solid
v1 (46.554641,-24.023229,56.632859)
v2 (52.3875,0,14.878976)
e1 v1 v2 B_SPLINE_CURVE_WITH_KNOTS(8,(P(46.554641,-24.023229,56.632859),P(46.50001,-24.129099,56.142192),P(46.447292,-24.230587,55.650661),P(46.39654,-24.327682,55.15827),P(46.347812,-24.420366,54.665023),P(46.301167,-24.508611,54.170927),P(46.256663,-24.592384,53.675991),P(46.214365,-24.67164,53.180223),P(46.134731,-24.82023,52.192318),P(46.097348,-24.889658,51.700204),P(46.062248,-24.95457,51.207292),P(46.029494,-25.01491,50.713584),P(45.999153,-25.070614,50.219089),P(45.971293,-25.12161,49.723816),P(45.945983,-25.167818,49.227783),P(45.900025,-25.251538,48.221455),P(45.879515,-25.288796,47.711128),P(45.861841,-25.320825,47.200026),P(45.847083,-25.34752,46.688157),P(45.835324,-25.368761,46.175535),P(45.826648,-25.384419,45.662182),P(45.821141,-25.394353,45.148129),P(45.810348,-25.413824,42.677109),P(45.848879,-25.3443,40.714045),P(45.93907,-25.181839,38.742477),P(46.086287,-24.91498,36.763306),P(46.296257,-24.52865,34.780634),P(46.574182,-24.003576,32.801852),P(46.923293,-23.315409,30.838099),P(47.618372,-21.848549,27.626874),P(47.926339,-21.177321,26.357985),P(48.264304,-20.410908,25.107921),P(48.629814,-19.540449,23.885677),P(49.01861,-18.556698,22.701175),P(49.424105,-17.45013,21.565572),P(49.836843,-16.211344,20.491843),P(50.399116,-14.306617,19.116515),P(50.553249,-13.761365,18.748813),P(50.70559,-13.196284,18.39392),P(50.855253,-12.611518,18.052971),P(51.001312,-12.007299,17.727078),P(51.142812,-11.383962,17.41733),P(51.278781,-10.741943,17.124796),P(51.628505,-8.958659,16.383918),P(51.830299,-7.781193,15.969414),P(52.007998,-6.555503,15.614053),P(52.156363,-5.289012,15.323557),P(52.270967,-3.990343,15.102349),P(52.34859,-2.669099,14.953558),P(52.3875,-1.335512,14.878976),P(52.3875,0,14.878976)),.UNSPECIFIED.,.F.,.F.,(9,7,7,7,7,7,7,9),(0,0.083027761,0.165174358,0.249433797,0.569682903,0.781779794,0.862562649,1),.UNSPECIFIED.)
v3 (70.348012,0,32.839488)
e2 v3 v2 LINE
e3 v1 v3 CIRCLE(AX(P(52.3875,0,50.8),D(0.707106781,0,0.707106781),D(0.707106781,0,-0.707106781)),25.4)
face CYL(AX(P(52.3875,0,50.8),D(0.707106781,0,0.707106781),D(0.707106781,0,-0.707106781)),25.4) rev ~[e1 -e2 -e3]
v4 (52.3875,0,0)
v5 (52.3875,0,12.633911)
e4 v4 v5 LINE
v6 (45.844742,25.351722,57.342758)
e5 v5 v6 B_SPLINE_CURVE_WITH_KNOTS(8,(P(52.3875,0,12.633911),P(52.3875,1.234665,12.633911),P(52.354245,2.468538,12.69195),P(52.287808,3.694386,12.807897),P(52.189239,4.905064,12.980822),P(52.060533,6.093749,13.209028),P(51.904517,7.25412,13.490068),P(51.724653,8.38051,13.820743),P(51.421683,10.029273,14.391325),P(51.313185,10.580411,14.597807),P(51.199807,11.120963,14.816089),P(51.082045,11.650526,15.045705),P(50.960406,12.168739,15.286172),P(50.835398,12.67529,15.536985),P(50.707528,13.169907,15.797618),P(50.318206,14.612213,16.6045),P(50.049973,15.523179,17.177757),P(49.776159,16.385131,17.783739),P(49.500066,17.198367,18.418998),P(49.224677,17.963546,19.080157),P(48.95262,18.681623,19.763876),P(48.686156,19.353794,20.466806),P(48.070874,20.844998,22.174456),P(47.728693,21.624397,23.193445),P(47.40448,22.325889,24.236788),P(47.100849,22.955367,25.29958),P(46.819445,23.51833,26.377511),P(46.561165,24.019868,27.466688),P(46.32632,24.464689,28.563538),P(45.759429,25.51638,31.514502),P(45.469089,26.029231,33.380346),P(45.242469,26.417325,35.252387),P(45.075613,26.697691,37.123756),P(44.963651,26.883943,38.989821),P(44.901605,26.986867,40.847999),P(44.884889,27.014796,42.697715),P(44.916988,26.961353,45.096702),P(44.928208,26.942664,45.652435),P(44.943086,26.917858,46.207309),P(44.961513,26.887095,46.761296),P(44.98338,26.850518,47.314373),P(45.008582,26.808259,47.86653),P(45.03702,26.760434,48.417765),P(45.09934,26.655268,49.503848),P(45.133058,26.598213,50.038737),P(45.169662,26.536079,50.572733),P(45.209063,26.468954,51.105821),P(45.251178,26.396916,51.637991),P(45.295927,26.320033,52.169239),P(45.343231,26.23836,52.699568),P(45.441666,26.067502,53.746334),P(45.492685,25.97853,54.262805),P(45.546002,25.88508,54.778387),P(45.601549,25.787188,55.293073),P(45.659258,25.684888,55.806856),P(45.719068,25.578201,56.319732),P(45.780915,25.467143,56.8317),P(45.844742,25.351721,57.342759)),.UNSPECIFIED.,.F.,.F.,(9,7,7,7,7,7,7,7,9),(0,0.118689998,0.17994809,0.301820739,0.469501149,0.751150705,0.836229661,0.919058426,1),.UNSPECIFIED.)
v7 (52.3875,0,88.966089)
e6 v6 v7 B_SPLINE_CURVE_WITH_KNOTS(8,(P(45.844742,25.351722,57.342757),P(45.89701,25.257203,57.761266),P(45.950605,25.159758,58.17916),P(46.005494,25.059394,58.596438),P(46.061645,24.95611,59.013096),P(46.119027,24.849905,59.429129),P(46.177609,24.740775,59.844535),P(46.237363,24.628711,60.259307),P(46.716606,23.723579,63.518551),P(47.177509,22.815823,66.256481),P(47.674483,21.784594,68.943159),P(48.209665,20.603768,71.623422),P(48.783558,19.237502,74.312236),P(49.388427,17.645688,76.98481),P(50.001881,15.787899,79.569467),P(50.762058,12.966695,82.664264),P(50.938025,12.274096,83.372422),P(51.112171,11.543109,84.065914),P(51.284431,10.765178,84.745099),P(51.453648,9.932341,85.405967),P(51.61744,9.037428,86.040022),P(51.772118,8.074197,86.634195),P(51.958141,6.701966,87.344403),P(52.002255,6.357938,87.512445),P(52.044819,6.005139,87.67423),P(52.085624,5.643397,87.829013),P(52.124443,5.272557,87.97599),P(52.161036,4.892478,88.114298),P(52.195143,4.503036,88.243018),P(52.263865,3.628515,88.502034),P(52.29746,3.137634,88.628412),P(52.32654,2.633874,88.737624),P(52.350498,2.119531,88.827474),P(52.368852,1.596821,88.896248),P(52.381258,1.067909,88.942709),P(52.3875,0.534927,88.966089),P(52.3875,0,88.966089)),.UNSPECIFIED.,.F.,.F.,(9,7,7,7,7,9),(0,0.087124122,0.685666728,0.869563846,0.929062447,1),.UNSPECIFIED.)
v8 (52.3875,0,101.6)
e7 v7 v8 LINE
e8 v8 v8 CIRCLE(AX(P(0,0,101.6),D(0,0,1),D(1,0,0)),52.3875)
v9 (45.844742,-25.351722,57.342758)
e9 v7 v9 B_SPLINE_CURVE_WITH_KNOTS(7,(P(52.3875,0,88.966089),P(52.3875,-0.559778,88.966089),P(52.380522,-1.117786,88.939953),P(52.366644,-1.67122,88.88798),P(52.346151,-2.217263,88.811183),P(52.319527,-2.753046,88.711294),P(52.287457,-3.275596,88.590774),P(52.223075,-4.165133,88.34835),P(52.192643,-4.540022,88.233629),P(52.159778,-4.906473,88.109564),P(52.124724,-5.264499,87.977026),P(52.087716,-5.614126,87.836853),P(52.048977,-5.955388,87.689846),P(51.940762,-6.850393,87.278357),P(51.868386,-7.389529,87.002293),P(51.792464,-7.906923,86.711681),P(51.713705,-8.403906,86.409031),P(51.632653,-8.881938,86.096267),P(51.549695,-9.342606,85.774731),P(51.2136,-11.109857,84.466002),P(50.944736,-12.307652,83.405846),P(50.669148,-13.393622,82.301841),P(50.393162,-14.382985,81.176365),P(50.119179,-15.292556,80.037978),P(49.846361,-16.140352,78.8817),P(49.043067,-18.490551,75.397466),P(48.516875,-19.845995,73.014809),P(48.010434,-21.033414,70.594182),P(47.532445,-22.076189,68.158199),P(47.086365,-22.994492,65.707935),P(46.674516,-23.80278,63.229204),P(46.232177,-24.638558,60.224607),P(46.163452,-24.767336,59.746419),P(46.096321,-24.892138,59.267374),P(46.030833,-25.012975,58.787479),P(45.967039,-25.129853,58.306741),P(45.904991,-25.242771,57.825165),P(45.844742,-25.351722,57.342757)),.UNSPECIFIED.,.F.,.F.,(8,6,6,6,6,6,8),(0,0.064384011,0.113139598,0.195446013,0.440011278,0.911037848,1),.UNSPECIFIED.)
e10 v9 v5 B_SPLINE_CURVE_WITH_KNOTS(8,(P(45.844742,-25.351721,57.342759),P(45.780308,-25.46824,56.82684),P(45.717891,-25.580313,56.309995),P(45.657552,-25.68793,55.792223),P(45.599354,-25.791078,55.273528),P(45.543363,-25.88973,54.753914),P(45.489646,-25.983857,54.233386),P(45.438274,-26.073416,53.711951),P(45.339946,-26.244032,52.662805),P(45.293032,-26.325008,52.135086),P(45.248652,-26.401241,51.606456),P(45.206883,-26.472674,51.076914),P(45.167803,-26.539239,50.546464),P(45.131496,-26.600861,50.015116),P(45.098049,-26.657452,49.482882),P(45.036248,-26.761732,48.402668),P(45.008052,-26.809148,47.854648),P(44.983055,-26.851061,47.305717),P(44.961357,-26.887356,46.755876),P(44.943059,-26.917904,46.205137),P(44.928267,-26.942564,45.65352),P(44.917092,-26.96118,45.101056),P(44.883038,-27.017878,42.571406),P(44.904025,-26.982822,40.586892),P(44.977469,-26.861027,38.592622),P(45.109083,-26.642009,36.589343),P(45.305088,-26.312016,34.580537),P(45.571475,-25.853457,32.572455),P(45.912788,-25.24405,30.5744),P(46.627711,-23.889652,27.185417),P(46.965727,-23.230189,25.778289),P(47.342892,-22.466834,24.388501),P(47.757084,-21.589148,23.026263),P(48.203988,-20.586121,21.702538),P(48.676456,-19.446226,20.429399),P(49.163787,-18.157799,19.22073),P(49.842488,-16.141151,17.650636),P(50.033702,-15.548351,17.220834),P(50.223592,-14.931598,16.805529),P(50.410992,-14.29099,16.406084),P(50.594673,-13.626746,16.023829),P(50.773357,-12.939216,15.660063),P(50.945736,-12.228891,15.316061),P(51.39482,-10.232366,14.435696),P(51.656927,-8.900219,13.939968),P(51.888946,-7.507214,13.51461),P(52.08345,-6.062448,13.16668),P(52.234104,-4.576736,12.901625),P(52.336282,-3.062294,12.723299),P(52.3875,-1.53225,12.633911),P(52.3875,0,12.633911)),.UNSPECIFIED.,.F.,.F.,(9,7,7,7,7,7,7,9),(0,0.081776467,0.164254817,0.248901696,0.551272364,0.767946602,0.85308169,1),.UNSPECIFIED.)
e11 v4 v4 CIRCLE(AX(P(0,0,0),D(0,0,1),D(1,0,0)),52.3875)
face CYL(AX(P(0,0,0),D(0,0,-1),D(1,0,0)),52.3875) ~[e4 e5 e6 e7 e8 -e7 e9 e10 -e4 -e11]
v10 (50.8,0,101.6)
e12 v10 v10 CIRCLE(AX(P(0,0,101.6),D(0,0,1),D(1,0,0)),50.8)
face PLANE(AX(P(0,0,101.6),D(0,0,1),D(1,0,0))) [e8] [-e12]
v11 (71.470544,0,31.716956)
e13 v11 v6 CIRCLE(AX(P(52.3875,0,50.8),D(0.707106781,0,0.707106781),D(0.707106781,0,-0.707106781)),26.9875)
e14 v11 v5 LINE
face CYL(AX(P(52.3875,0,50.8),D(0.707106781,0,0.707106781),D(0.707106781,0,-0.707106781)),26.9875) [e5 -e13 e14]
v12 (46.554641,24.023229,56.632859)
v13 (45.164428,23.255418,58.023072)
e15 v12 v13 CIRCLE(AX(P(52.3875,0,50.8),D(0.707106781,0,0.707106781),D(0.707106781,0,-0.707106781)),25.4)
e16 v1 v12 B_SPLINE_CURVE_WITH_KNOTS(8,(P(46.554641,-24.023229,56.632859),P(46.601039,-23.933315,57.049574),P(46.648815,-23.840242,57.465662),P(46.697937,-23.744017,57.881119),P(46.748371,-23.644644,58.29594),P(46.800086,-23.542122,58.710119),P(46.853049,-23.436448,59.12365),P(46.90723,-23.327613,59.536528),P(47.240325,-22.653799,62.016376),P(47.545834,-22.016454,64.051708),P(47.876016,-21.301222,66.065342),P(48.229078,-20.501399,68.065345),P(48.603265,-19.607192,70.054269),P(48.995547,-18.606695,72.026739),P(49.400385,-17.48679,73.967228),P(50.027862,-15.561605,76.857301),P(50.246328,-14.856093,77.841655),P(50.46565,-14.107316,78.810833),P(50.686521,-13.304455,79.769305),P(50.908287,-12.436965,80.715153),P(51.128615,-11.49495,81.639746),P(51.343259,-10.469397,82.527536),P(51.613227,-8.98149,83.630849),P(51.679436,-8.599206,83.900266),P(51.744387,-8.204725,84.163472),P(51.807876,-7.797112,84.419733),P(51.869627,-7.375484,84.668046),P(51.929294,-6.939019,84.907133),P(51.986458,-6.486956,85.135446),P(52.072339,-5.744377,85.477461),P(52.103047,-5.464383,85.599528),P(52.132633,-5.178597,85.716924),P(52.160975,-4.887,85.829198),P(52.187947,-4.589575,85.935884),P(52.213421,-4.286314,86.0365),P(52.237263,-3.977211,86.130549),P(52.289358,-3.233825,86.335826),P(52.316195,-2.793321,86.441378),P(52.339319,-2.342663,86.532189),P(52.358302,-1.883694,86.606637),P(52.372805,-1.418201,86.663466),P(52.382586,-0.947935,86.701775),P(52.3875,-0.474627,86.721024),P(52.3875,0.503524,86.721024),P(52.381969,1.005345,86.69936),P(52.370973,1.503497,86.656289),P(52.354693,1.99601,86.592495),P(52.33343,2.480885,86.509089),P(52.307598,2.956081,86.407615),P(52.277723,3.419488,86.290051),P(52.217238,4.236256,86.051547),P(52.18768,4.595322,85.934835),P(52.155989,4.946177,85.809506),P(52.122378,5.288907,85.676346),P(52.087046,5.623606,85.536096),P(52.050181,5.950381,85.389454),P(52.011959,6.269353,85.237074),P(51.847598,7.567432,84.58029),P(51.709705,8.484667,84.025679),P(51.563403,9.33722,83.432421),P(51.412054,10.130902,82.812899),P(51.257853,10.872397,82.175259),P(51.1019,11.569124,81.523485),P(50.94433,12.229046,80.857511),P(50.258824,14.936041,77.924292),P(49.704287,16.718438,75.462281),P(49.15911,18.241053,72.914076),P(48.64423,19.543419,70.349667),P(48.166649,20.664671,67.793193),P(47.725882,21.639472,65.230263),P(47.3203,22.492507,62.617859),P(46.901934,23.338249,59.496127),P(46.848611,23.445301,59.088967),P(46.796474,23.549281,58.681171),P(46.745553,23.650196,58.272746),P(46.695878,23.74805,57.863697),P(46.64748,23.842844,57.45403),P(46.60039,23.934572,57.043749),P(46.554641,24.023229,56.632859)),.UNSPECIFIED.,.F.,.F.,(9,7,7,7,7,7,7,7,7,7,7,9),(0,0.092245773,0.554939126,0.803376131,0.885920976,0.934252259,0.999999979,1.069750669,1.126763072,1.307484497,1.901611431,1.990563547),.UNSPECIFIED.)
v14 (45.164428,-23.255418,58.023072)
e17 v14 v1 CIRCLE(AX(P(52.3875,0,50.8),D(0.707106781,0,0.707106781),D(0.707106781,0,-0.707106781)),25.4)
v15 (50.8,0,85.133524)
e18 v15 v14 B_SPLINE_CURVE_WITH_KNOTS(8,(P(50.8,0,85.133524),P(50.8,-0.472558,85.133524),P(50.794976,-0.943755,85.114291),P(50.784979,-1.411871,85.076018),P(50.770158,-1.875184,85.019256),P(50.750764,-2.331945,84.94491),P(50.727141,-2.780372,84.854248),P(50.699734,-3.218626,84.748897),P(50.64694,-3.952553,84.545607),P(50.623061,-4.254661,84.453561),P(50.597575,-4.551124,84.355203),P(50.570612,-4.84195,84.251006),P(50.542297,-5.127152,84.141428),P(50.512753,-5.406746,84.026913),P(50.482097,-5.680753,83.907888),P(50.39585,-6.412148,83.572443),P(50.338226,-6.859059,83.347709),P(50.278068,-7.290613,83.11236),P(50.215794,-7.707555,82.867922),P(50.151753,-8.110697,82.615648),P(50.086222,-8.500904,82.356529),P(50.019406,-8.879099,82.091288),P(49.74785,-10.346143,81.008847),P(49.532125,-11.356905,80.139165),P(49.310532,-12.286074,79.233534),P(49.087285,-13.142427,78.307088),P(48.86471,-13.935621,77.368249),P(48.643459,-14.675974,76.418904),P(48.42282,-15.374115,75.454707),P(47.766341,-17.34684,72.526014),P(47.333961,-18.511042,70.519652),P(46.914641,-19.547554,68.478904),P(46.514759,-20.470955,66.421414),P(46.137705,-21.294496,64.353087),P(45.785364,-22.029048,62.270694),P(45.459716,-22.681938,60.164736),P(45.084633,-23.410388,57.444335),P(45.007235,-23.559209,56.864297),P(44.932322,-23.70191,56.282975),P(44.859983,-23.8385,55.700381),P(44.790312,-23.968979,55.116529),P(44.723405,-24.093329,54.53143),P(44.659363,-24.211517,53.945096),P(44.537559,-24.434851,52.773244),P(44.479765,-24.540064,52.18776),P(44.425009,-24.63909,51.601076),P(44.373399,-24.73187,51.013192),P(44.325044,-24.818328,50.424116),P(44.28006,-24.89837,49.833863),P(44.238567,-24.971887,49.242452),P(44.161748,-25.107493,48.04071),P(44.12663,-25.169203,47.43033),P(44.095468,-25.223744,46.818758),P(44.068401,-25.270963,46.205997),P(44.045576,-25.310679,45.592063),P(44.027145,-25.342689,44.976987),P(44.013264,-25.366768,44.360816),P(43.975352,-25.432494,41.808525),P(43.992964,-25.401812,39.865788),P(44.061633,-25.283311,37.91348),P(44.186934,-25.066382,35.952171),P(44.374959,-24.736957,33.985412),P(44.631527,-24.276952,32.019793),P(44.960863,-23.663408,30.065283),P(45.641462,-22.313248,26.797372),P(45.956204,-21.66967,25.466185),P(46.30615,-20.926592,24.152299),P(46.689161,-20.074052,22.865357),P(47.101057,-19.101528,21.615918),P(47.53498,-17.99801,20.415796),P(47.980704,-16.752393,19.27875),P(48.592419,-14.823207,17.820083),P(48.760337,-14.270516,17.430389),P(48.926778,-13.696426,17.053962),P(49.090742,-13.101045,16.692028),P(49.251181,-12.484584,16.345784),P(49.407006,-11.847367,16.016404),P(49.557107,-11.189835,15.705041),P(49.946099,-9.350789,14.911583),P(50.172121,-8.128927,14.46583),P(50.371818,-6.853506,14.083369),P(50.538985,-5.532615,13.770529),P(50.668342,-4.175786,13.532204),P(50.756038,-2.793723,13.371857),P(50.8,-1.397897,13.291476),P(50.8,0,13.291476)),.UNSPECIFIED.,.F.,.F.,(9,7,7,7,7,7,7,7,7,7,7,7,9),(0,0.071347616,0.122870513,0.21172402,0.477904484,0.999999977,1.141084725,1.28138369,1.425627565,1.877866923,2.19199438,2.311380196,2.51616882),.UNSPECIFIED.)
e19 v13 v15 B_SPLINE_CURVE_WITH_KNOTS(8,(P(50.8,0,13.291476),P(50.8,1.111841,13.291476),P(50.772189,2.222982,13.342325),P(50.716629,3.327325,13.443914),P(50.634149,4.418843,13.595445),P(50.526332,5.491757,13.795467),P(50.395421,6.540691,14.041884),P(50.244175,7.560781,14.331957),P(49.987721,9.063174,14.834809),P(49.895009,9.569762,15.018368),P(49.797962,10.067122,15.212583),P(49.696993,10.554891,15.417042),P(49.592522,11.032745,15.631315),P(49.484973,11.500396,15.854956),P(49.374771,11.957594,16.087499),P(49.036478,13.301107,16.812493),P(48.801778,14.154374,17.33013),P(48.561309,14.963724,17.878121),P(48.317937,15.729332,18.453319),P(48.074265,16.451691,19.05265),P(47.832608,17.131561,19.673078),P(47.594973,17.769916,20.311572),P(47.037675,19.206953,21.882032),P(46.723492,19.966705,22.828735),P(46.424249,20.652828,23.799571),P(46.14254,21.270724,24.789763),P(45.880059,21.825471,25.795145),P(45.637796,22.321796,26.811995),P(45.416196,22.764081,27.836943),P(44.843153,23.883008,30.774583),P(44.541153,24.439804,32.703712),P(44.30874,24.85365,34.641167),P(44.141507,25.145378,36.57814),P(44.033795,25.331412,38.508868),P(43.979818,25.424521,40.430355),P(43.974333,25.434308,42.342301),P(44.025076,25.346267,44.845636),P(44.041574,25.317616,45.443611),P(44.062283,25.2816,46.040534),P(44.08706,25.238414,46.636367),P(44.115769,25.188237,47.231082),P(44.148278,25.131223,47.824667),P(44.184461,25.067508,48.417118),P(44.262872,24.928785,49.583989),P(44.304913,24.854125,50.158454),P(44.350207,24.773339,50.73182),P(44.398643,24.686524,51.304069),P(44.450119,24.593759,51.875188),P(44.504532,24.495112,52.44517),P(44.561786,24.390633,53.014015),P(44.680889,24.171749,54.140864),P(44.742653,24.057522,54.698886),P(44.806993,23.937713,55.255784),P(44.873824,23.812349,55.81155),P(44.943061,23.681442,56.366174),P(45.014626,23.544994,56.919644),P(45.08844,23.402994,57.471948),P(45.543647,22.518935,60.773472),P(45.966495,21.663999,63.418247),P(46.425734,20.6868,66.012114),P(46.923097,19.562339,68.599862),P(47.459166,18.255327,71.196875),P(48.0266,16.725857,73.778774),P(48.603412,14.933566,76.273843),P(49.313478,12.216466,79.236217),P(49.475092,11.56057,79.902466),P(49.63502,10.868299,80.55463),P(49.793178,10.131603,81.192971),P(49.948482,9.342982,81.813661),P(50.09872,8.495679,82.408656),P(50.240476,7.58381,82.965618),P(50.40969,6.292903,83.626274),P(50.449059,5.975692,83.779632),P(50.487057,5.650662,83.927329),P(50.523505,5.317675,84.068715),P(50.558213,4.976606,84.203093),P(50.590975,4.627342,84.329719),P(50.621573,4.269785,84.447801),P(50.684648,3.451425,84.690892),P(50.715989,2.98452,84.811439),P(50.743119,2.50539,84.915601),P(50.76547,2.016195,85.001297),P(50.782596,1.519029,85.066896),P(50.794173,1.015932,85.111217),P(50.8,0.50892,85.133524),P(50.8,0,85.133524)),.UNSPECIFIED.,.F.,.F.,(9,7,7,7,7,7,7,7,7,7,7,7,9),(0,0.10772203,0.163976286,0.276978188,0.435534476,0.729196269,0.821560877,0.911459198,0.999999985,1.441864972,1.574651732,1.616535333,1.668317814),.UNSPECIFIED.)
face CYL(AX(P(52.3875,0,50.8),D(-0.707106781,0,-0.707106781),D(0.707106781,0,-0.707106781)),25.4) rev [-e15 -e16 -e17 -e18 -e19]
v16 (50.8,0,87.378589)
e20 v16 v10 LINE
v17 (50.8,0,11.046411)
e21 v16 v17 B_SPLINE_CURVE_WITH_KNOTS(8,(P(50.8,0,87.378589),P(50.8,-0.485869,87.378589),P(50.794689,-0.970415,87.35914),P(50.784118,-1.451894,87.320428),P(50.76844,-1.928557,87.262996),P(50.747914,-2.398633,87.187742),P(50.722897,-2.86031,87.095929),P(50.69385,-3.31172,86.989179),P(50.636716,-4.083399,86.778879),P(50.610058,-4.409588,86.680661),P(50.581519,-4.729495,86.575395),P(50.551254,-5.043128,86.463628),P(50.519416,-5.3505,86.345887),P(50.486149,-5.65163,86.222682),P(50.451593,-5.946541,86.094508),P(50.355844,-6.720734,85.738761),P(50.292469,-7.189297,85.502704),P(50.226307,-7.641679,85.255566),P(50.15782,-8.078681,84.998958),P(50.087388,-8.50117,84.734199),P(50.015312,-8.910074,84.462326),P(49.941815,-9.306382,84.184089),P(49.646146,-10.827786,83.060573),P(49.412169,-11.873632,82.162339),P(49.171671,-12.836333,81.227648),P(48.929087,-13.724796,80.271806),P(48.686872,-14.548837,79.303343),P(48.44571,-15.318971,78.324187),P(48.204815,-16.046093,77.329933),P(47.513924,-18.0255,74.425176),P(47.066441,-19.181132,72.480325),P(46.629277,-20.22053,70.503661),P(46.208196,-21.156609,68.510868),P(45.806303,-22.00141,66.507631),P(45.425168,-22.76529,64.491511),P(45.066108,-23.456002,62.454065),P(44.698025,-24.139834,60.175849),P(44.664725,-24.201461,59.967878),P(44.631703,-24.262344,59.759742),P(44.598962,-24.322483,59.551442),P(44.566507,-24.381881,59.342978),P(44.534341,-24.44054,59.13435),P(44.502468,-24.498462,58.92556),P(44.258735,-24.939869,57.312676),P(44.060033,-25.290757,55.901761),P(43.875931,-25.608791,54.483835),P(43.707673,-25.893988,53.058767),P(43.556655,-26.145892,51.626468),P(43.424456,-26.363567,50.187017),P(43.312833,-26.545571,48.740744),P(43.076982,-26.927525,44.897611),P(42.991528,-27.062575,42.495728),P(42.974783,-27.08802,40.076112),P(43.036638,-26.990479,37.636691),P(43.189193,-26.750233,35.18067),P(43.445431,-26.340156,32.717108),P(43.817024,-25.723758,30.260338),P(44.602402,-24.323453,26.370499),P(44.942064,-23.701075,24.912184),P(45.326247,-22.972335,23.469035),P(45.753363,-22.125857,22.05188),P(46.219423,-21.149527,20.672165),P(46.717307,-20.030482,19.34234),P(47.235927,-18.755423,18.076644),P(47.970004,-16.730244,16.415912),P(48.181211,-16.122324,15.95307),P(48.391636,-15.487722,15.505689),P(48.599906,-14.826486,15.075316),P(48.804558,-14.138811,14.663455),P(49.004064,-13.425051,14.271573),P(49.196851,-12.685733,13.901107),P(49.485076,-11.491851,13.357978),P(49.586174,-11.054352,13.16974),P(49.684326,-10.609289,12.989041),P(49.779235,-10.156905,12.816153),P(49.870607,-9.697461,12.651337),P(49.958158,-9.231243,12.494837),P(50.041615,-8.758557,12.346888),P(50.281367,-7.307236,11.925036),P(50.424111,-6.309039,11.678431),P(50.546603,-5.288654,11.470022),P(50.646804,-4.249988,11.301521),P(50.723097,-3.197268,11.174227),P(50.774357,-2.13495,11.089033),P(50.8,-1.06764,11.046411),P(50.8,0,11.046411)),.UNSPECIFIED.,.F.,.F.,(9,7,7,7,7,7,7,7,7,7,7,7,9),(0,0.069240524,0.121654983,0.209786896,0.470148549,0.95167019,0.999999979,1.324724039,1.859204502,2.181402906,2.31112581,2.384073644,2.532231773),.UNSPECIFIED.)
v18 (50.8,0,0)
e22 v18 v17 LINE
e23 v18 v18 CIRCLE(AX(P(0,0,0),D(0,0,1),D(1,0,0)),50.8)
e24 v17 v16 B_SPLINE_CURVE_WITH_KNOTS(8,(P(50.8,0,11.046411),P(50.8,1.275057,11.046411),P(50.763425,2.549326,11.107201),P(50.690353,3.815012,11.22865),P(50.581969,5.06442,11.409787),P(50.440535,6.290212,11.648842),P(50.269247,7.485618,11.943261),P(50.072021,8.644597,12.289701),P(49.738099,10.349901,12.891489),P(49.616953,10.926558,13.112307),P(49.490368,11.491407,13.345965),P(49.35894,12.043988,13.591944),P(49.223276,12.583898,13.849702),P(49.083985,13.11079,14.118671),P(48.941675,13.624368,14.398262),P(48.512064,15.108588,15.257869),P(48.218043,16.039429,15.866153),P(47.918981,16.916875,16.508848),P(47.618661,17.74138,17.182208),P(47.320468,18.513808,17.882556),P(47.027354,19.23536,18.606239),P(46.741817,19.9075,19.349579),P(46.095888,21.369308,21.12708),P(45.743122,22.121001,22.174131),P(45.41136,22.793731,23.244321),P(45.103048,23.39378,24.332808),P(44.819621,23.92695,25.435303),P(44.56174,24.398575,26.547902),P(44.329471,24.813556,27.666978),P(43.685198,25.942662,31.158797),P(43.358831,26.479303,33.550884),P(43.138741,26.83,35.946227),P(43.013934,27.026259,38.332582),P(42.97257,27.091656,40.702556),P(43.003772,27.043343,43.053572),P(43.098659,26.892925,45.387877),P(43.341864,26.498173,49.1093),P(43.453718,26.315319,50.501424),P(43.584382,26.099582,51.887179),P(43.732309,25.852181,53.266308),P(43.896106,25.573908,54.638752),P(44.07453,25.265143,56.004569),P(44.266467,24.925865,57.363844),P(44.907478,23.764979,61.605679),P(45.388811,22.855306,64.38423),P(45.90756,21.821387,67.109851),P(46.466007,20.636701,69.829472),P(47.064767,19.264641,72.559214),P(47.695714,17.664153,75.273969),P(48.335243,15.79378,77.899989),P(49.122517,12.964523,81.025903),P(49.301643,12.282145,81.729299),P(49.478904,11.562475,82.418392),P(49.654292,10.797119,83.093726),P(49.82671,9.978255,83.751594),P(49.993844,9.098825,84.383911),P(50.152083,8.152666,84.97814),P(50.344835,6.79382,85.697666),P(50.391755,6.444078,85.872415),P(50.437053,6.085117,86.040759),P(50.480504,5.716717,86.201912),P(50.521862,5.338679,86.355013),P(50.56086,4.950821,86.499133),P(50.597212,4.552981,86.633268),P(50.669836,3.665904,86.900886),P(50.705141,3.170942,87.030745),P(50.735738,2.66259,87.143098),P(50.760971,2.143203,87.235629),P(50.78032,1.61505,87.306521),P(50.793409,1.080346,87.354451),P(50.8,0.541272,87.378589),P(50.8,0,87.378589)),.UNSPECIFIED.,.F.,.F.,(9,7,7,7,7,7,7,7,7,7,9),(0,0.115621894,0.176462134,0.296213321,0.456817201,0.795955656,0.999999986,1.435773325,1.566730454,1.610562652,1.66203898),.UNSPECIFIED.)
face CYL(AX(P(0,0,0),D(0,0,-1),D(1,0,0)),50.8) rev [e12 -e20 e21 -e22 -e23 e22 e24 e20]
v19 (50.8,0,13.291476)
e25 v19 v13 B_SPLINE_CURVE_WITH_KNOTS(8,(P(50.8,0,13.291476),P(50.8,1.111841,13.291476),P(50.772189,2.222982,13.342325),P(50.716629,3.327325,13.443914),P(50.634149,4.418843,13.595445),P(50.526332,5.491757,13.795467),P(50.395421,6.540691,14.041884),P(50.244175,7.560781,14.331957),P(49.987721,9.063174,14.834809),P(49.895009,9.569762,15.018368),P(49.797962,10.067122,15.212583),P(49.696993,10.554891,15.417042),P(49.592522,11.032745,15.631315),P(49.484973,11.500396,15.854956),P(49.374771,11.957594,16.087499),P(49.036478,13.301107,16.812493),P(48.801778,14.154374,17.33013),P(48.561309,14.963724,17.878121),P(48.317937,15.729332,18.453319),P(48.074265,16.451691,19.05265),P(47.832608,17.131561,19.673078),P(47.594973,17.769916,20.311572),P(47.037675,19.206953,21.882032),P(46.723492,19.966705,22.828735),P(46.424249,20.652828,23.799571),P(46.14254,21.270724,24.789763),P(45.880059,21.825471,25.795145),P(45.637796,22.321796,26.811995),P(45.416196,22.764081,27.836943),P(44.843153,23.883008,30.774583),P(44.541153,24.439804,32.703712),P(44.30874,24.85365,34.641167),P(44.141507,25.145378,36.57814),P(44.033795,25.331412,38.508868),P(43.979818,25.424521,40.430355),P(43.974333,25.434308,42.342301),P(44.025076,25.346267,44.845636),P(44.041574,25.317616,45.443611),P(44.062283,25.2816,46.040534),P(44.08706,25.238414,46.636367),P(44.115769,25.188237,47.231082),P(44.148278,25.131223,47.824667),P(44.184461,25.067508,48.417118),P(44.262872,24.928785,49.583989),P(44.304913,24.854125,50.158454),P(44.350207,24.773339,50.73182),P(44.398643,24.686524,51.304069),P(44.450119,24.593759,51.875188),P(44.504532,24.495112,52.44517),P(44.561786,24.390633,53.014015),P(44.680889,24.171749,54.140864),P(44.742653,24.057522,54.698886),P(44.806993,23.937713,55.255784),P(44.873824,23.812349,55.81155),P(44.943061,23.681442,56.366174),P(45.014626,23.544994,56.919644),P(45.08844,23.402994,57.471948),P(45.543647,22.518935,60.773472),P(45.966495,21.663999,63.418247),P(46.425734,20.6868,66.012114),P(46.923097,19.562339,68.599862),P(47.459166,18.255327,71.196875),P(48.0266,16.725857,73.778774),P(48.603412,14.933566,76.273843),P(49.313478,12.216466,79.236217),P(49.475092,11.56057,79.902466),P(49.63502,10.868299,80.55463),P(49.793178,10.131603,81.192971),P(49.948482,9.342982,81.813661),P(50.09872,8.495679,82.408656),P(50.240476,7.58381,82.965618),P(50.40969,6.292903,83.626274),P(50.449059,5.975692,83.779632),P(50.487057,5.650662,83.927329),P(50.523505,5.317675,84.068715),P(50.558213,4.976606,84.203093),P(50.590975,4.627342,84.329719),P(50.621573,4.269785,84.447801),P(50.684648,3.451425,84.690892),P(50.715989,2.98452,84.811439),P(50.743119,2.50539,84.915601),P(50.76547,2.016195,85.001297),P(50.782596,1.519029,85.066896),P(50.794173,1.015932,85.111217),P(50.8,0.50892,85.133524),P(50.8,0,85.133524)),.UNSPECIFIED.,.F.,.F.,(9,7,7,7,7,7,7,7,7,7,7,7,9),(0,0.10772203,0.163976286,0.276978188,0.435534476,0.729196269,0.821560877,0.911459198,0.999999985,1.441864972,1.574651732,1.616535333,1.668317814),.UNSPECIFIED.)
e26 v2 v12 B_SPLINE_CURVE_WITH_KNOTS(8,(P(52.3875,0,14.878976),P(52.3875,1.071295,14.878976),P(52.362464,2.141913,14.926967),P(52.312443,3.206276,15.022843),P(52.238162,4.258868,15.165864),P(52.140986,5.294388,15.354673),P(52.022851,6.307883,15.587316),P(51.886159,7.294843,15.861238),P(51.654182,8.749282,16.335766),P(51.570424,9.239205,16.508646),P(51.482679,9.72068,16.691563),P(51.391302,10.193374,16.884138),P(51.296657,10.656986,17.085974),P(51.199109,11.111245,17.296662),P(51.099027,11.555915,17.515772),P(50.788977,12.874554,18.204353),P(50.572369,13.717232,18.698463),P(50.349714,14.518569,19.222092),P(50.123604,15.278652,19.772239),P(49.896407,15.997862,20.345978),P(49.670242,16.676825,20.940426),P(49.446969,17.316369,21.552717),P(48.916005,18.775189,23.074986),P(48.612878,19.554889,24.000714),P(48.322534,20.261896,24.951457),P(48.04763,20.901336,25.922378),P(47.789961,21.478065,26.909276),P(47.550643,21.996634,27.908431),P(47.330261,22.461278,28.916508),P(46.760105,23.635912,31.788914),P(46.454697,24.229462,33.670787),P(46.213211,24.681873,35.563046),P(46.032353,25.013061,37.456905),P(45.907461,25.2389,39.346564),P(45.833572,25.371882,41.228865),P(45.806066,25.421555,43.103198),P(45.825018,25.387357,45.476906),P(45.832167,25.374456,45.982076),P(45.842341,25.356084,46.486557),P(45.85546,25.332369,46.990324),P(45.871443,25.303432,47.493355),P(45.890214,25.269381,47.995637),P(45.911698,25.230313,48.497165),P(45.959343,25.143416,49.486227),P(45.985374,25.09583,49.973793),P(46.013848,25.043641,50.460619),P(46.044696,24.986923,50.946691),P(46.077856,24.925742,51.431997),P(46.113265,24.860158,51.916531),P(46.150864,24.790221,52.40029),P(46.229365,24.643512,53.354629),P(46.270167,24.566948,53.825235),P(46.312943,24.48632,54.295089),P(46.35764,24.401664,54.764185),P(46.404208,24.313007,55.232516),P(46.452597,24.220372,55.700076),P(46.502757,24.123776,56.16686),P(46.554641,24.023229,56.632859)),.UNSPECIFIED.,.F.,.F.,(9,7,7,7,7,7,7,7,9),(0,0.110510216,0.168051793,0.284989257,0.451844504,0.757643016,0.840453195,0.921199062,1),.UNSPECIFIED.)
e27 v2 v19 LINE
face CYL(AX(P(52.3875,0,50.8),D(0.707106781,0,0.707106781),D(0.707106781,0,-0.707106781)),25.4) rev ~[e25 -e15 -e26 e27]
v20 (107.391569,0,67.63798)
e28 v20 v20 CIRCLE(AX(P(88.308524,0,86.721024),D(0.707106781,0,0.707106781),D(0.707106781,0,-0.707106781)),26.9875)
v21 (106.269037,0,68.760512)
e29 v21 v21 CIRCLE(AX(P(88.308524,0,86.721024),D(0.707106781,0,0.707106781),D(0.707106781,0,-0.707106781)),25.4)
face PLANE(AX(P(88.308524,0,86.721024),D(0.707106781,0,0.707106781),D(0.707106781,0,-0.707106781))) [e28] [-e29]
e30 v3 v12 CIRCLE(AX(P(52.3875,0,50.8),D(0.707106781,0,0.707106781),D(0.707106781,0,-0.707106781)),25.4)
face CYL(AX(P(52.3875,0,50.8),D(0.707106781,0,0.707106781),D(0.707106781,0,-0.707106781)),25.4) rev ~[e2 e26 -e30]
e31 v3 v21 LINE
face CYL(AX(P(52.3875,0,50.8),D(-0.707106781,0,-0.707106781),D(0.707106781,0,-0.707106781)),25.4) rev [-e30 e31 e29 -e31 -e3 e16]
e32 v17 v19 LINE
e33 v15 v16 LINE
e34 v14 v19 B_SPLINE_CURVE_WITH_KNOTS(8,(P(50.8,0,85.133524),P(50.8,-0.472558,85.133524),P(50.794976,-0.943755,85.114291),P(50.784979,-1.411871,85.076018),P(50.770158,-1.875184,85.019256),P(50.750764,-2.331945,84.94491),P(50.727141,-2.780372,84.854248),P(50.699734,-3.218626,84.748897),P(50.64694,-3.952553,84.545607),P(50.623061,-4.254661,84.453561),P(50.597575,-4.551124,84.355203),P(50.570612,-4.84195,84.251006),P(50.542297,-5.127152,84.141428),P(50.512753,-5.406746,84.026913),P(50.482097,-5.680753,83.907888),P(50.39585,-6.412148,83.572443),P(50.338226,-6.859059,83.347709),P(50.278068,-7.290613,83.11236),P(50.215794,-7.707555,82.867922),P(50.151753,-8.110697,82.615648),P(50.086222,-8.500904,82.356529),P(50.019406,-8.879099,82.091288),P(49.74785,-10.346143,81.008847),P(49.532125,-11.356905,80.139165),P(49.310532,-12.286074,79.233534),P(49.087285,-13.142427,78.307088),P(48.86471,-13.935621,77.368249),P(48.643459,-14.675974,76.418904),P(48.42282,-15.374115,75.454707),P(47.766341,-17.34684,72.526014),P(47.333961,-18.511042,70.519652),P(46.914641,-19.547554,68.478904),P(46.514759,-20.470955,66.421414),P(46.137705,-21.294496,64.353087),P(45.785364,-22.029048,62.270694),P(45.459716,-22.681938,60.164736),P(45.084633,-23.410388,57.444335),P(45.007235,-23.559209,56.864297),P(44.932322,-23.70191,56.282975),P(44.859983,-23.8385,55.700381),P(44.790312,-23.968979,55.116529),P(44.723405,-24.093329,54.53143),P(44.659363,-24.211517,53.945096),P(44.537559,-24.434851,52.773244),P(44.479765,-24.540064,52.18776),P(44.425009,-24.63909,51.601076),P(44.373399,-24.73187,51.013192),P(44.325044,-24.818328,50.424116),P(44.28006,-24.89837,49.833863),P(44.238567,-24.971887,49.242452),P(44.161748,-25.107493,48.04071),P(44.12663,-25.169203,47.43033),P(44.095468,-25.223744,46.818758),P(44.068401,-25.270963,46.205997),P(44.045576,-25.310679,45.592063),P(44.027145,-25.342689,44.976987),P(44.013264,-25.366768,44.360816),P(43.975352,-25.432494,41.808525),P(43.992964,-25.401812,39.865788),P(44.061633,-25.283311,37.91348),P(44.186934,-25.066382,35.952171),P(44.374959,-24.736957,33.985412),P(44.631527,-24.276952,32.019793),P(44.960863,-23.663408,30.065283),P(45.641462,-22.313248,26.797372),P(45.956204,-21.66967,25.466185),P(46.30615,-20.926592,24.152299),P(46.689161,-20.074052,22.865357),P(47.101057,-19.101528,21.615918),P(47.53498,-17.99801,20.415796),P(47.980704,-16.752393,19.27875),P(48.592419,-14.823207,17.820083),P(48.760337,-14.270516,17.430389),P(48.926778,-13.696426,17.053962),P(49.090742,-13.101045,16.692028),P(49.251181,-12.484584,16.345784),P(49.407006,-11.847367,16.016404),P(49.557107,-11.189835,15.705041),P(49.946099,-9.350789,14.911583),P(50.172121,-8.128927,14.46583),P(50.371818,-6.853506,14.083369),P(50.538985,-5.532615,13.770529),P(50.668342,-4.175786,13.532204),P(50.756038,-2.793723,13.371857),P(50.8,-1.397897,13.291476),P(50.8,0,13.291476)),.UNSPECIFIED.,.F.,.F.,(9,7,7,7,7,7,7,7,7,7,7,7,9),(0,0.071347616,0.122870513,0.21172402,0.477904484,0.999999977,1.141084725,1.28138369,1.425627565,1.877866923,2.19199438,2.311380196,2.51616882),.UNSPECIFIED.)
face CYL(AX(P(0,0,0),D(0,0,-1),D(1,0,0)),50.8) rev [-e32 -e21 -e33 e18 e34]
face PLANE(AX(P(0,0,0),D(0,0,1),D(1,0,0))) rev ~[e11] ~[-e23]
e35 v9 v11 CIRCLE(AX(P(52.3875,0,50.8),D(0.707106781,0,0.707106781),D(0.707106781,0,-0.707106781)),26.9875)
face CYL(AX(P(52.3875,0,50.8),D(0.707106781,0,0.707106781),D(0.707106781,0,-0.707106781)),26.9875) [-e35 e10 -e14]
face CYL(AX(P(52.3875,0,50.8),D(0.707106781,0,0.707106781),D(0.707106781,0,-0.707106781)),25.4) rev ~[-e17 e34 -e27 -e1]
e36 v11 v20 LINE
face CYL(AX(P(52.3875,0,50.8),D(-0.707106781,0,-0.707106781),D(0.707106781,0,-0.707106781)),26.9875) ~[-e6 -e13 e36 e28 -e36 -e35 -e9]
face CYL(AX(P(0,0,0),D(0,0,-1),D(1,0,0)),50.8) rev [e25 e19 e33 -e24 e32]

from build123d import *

# Parameters (mm, degrees)
F0_R          = 52.3875
F0_R_2        = 50.8
F1_DEPTH      = 101.6
F5_R          = 26.9875
F5_R_2        = 25.4
F6_DEPTH      = 50.8
F6_DEPTH_BACK = 50.8
F7_DEPTH      = 105.8050688415
F7_DEPTH_BACK = 4.2050688415
F8_DEPTH      = 50.8
F8_DEPTH_BACK = 77.7885001414


with BuildPart() as f1:
    # F0 (on Top) → F1 (new body)
    with BuildSketch(Plane.XY):
        Circle(F0_R)
        Circle(F0_R_2, mode=Mode.SUBTRACT)
    extrude(amount=F1_DEPTH)

    # F5 (on line) → F6 (join, two sides)
    with BuildSketch(Plane(origin=(51.59375, 0, 51.59375), x_dir=(0.7071067812, 0, -0.7071067812), z_dir=(0.7071067812, 0, 0.7071067812))) as f6_sk:
        with Locations((1.1225320151, 0)):
            Circle(F5_R)
        with Locations((1.1225320151, 0)):
            Circle(F5_R_2, mode=Mode.SUBTRACT)
    extrude(amount=F6_DEPTH)
    extrude(f6_sk.sketch, amount=-F6_DEPTH_BACK)

    # F0 (on Top) → F7 (cut, two sides)
    with BuildSketch(Plane.XY) as f7_sk:
        Circle(F0_R_2)
    extrude(amount=F7_DEPTH, mode=Mode.SUBTRACT)
    extrude(f7_sk.sketch, amount=-F7_DEPTH_BACK, mode=Mode.SUBTRACT)

    # F5 (on line) → F8 (cut, two sides)
    with BuildSketch(Plane(origin=(51.59375, 0, 51.59375), x_dir=(0.7071067812, 0, -0.7071067812), z_dir=(0.7071067812, 0, 0.7071067812))) as f8_sk:
        with Locations((1.1225320151, 0)):
            Circle(F5_R_2)
    extrude(amount=-F8_DEPTH, mode=Mode.SUBTRACT)
    extrude(f8_sk.sketch, amount=F8_DEPTH_BACK, mode=Mode.SUBTRACT)


solid = f1.part
